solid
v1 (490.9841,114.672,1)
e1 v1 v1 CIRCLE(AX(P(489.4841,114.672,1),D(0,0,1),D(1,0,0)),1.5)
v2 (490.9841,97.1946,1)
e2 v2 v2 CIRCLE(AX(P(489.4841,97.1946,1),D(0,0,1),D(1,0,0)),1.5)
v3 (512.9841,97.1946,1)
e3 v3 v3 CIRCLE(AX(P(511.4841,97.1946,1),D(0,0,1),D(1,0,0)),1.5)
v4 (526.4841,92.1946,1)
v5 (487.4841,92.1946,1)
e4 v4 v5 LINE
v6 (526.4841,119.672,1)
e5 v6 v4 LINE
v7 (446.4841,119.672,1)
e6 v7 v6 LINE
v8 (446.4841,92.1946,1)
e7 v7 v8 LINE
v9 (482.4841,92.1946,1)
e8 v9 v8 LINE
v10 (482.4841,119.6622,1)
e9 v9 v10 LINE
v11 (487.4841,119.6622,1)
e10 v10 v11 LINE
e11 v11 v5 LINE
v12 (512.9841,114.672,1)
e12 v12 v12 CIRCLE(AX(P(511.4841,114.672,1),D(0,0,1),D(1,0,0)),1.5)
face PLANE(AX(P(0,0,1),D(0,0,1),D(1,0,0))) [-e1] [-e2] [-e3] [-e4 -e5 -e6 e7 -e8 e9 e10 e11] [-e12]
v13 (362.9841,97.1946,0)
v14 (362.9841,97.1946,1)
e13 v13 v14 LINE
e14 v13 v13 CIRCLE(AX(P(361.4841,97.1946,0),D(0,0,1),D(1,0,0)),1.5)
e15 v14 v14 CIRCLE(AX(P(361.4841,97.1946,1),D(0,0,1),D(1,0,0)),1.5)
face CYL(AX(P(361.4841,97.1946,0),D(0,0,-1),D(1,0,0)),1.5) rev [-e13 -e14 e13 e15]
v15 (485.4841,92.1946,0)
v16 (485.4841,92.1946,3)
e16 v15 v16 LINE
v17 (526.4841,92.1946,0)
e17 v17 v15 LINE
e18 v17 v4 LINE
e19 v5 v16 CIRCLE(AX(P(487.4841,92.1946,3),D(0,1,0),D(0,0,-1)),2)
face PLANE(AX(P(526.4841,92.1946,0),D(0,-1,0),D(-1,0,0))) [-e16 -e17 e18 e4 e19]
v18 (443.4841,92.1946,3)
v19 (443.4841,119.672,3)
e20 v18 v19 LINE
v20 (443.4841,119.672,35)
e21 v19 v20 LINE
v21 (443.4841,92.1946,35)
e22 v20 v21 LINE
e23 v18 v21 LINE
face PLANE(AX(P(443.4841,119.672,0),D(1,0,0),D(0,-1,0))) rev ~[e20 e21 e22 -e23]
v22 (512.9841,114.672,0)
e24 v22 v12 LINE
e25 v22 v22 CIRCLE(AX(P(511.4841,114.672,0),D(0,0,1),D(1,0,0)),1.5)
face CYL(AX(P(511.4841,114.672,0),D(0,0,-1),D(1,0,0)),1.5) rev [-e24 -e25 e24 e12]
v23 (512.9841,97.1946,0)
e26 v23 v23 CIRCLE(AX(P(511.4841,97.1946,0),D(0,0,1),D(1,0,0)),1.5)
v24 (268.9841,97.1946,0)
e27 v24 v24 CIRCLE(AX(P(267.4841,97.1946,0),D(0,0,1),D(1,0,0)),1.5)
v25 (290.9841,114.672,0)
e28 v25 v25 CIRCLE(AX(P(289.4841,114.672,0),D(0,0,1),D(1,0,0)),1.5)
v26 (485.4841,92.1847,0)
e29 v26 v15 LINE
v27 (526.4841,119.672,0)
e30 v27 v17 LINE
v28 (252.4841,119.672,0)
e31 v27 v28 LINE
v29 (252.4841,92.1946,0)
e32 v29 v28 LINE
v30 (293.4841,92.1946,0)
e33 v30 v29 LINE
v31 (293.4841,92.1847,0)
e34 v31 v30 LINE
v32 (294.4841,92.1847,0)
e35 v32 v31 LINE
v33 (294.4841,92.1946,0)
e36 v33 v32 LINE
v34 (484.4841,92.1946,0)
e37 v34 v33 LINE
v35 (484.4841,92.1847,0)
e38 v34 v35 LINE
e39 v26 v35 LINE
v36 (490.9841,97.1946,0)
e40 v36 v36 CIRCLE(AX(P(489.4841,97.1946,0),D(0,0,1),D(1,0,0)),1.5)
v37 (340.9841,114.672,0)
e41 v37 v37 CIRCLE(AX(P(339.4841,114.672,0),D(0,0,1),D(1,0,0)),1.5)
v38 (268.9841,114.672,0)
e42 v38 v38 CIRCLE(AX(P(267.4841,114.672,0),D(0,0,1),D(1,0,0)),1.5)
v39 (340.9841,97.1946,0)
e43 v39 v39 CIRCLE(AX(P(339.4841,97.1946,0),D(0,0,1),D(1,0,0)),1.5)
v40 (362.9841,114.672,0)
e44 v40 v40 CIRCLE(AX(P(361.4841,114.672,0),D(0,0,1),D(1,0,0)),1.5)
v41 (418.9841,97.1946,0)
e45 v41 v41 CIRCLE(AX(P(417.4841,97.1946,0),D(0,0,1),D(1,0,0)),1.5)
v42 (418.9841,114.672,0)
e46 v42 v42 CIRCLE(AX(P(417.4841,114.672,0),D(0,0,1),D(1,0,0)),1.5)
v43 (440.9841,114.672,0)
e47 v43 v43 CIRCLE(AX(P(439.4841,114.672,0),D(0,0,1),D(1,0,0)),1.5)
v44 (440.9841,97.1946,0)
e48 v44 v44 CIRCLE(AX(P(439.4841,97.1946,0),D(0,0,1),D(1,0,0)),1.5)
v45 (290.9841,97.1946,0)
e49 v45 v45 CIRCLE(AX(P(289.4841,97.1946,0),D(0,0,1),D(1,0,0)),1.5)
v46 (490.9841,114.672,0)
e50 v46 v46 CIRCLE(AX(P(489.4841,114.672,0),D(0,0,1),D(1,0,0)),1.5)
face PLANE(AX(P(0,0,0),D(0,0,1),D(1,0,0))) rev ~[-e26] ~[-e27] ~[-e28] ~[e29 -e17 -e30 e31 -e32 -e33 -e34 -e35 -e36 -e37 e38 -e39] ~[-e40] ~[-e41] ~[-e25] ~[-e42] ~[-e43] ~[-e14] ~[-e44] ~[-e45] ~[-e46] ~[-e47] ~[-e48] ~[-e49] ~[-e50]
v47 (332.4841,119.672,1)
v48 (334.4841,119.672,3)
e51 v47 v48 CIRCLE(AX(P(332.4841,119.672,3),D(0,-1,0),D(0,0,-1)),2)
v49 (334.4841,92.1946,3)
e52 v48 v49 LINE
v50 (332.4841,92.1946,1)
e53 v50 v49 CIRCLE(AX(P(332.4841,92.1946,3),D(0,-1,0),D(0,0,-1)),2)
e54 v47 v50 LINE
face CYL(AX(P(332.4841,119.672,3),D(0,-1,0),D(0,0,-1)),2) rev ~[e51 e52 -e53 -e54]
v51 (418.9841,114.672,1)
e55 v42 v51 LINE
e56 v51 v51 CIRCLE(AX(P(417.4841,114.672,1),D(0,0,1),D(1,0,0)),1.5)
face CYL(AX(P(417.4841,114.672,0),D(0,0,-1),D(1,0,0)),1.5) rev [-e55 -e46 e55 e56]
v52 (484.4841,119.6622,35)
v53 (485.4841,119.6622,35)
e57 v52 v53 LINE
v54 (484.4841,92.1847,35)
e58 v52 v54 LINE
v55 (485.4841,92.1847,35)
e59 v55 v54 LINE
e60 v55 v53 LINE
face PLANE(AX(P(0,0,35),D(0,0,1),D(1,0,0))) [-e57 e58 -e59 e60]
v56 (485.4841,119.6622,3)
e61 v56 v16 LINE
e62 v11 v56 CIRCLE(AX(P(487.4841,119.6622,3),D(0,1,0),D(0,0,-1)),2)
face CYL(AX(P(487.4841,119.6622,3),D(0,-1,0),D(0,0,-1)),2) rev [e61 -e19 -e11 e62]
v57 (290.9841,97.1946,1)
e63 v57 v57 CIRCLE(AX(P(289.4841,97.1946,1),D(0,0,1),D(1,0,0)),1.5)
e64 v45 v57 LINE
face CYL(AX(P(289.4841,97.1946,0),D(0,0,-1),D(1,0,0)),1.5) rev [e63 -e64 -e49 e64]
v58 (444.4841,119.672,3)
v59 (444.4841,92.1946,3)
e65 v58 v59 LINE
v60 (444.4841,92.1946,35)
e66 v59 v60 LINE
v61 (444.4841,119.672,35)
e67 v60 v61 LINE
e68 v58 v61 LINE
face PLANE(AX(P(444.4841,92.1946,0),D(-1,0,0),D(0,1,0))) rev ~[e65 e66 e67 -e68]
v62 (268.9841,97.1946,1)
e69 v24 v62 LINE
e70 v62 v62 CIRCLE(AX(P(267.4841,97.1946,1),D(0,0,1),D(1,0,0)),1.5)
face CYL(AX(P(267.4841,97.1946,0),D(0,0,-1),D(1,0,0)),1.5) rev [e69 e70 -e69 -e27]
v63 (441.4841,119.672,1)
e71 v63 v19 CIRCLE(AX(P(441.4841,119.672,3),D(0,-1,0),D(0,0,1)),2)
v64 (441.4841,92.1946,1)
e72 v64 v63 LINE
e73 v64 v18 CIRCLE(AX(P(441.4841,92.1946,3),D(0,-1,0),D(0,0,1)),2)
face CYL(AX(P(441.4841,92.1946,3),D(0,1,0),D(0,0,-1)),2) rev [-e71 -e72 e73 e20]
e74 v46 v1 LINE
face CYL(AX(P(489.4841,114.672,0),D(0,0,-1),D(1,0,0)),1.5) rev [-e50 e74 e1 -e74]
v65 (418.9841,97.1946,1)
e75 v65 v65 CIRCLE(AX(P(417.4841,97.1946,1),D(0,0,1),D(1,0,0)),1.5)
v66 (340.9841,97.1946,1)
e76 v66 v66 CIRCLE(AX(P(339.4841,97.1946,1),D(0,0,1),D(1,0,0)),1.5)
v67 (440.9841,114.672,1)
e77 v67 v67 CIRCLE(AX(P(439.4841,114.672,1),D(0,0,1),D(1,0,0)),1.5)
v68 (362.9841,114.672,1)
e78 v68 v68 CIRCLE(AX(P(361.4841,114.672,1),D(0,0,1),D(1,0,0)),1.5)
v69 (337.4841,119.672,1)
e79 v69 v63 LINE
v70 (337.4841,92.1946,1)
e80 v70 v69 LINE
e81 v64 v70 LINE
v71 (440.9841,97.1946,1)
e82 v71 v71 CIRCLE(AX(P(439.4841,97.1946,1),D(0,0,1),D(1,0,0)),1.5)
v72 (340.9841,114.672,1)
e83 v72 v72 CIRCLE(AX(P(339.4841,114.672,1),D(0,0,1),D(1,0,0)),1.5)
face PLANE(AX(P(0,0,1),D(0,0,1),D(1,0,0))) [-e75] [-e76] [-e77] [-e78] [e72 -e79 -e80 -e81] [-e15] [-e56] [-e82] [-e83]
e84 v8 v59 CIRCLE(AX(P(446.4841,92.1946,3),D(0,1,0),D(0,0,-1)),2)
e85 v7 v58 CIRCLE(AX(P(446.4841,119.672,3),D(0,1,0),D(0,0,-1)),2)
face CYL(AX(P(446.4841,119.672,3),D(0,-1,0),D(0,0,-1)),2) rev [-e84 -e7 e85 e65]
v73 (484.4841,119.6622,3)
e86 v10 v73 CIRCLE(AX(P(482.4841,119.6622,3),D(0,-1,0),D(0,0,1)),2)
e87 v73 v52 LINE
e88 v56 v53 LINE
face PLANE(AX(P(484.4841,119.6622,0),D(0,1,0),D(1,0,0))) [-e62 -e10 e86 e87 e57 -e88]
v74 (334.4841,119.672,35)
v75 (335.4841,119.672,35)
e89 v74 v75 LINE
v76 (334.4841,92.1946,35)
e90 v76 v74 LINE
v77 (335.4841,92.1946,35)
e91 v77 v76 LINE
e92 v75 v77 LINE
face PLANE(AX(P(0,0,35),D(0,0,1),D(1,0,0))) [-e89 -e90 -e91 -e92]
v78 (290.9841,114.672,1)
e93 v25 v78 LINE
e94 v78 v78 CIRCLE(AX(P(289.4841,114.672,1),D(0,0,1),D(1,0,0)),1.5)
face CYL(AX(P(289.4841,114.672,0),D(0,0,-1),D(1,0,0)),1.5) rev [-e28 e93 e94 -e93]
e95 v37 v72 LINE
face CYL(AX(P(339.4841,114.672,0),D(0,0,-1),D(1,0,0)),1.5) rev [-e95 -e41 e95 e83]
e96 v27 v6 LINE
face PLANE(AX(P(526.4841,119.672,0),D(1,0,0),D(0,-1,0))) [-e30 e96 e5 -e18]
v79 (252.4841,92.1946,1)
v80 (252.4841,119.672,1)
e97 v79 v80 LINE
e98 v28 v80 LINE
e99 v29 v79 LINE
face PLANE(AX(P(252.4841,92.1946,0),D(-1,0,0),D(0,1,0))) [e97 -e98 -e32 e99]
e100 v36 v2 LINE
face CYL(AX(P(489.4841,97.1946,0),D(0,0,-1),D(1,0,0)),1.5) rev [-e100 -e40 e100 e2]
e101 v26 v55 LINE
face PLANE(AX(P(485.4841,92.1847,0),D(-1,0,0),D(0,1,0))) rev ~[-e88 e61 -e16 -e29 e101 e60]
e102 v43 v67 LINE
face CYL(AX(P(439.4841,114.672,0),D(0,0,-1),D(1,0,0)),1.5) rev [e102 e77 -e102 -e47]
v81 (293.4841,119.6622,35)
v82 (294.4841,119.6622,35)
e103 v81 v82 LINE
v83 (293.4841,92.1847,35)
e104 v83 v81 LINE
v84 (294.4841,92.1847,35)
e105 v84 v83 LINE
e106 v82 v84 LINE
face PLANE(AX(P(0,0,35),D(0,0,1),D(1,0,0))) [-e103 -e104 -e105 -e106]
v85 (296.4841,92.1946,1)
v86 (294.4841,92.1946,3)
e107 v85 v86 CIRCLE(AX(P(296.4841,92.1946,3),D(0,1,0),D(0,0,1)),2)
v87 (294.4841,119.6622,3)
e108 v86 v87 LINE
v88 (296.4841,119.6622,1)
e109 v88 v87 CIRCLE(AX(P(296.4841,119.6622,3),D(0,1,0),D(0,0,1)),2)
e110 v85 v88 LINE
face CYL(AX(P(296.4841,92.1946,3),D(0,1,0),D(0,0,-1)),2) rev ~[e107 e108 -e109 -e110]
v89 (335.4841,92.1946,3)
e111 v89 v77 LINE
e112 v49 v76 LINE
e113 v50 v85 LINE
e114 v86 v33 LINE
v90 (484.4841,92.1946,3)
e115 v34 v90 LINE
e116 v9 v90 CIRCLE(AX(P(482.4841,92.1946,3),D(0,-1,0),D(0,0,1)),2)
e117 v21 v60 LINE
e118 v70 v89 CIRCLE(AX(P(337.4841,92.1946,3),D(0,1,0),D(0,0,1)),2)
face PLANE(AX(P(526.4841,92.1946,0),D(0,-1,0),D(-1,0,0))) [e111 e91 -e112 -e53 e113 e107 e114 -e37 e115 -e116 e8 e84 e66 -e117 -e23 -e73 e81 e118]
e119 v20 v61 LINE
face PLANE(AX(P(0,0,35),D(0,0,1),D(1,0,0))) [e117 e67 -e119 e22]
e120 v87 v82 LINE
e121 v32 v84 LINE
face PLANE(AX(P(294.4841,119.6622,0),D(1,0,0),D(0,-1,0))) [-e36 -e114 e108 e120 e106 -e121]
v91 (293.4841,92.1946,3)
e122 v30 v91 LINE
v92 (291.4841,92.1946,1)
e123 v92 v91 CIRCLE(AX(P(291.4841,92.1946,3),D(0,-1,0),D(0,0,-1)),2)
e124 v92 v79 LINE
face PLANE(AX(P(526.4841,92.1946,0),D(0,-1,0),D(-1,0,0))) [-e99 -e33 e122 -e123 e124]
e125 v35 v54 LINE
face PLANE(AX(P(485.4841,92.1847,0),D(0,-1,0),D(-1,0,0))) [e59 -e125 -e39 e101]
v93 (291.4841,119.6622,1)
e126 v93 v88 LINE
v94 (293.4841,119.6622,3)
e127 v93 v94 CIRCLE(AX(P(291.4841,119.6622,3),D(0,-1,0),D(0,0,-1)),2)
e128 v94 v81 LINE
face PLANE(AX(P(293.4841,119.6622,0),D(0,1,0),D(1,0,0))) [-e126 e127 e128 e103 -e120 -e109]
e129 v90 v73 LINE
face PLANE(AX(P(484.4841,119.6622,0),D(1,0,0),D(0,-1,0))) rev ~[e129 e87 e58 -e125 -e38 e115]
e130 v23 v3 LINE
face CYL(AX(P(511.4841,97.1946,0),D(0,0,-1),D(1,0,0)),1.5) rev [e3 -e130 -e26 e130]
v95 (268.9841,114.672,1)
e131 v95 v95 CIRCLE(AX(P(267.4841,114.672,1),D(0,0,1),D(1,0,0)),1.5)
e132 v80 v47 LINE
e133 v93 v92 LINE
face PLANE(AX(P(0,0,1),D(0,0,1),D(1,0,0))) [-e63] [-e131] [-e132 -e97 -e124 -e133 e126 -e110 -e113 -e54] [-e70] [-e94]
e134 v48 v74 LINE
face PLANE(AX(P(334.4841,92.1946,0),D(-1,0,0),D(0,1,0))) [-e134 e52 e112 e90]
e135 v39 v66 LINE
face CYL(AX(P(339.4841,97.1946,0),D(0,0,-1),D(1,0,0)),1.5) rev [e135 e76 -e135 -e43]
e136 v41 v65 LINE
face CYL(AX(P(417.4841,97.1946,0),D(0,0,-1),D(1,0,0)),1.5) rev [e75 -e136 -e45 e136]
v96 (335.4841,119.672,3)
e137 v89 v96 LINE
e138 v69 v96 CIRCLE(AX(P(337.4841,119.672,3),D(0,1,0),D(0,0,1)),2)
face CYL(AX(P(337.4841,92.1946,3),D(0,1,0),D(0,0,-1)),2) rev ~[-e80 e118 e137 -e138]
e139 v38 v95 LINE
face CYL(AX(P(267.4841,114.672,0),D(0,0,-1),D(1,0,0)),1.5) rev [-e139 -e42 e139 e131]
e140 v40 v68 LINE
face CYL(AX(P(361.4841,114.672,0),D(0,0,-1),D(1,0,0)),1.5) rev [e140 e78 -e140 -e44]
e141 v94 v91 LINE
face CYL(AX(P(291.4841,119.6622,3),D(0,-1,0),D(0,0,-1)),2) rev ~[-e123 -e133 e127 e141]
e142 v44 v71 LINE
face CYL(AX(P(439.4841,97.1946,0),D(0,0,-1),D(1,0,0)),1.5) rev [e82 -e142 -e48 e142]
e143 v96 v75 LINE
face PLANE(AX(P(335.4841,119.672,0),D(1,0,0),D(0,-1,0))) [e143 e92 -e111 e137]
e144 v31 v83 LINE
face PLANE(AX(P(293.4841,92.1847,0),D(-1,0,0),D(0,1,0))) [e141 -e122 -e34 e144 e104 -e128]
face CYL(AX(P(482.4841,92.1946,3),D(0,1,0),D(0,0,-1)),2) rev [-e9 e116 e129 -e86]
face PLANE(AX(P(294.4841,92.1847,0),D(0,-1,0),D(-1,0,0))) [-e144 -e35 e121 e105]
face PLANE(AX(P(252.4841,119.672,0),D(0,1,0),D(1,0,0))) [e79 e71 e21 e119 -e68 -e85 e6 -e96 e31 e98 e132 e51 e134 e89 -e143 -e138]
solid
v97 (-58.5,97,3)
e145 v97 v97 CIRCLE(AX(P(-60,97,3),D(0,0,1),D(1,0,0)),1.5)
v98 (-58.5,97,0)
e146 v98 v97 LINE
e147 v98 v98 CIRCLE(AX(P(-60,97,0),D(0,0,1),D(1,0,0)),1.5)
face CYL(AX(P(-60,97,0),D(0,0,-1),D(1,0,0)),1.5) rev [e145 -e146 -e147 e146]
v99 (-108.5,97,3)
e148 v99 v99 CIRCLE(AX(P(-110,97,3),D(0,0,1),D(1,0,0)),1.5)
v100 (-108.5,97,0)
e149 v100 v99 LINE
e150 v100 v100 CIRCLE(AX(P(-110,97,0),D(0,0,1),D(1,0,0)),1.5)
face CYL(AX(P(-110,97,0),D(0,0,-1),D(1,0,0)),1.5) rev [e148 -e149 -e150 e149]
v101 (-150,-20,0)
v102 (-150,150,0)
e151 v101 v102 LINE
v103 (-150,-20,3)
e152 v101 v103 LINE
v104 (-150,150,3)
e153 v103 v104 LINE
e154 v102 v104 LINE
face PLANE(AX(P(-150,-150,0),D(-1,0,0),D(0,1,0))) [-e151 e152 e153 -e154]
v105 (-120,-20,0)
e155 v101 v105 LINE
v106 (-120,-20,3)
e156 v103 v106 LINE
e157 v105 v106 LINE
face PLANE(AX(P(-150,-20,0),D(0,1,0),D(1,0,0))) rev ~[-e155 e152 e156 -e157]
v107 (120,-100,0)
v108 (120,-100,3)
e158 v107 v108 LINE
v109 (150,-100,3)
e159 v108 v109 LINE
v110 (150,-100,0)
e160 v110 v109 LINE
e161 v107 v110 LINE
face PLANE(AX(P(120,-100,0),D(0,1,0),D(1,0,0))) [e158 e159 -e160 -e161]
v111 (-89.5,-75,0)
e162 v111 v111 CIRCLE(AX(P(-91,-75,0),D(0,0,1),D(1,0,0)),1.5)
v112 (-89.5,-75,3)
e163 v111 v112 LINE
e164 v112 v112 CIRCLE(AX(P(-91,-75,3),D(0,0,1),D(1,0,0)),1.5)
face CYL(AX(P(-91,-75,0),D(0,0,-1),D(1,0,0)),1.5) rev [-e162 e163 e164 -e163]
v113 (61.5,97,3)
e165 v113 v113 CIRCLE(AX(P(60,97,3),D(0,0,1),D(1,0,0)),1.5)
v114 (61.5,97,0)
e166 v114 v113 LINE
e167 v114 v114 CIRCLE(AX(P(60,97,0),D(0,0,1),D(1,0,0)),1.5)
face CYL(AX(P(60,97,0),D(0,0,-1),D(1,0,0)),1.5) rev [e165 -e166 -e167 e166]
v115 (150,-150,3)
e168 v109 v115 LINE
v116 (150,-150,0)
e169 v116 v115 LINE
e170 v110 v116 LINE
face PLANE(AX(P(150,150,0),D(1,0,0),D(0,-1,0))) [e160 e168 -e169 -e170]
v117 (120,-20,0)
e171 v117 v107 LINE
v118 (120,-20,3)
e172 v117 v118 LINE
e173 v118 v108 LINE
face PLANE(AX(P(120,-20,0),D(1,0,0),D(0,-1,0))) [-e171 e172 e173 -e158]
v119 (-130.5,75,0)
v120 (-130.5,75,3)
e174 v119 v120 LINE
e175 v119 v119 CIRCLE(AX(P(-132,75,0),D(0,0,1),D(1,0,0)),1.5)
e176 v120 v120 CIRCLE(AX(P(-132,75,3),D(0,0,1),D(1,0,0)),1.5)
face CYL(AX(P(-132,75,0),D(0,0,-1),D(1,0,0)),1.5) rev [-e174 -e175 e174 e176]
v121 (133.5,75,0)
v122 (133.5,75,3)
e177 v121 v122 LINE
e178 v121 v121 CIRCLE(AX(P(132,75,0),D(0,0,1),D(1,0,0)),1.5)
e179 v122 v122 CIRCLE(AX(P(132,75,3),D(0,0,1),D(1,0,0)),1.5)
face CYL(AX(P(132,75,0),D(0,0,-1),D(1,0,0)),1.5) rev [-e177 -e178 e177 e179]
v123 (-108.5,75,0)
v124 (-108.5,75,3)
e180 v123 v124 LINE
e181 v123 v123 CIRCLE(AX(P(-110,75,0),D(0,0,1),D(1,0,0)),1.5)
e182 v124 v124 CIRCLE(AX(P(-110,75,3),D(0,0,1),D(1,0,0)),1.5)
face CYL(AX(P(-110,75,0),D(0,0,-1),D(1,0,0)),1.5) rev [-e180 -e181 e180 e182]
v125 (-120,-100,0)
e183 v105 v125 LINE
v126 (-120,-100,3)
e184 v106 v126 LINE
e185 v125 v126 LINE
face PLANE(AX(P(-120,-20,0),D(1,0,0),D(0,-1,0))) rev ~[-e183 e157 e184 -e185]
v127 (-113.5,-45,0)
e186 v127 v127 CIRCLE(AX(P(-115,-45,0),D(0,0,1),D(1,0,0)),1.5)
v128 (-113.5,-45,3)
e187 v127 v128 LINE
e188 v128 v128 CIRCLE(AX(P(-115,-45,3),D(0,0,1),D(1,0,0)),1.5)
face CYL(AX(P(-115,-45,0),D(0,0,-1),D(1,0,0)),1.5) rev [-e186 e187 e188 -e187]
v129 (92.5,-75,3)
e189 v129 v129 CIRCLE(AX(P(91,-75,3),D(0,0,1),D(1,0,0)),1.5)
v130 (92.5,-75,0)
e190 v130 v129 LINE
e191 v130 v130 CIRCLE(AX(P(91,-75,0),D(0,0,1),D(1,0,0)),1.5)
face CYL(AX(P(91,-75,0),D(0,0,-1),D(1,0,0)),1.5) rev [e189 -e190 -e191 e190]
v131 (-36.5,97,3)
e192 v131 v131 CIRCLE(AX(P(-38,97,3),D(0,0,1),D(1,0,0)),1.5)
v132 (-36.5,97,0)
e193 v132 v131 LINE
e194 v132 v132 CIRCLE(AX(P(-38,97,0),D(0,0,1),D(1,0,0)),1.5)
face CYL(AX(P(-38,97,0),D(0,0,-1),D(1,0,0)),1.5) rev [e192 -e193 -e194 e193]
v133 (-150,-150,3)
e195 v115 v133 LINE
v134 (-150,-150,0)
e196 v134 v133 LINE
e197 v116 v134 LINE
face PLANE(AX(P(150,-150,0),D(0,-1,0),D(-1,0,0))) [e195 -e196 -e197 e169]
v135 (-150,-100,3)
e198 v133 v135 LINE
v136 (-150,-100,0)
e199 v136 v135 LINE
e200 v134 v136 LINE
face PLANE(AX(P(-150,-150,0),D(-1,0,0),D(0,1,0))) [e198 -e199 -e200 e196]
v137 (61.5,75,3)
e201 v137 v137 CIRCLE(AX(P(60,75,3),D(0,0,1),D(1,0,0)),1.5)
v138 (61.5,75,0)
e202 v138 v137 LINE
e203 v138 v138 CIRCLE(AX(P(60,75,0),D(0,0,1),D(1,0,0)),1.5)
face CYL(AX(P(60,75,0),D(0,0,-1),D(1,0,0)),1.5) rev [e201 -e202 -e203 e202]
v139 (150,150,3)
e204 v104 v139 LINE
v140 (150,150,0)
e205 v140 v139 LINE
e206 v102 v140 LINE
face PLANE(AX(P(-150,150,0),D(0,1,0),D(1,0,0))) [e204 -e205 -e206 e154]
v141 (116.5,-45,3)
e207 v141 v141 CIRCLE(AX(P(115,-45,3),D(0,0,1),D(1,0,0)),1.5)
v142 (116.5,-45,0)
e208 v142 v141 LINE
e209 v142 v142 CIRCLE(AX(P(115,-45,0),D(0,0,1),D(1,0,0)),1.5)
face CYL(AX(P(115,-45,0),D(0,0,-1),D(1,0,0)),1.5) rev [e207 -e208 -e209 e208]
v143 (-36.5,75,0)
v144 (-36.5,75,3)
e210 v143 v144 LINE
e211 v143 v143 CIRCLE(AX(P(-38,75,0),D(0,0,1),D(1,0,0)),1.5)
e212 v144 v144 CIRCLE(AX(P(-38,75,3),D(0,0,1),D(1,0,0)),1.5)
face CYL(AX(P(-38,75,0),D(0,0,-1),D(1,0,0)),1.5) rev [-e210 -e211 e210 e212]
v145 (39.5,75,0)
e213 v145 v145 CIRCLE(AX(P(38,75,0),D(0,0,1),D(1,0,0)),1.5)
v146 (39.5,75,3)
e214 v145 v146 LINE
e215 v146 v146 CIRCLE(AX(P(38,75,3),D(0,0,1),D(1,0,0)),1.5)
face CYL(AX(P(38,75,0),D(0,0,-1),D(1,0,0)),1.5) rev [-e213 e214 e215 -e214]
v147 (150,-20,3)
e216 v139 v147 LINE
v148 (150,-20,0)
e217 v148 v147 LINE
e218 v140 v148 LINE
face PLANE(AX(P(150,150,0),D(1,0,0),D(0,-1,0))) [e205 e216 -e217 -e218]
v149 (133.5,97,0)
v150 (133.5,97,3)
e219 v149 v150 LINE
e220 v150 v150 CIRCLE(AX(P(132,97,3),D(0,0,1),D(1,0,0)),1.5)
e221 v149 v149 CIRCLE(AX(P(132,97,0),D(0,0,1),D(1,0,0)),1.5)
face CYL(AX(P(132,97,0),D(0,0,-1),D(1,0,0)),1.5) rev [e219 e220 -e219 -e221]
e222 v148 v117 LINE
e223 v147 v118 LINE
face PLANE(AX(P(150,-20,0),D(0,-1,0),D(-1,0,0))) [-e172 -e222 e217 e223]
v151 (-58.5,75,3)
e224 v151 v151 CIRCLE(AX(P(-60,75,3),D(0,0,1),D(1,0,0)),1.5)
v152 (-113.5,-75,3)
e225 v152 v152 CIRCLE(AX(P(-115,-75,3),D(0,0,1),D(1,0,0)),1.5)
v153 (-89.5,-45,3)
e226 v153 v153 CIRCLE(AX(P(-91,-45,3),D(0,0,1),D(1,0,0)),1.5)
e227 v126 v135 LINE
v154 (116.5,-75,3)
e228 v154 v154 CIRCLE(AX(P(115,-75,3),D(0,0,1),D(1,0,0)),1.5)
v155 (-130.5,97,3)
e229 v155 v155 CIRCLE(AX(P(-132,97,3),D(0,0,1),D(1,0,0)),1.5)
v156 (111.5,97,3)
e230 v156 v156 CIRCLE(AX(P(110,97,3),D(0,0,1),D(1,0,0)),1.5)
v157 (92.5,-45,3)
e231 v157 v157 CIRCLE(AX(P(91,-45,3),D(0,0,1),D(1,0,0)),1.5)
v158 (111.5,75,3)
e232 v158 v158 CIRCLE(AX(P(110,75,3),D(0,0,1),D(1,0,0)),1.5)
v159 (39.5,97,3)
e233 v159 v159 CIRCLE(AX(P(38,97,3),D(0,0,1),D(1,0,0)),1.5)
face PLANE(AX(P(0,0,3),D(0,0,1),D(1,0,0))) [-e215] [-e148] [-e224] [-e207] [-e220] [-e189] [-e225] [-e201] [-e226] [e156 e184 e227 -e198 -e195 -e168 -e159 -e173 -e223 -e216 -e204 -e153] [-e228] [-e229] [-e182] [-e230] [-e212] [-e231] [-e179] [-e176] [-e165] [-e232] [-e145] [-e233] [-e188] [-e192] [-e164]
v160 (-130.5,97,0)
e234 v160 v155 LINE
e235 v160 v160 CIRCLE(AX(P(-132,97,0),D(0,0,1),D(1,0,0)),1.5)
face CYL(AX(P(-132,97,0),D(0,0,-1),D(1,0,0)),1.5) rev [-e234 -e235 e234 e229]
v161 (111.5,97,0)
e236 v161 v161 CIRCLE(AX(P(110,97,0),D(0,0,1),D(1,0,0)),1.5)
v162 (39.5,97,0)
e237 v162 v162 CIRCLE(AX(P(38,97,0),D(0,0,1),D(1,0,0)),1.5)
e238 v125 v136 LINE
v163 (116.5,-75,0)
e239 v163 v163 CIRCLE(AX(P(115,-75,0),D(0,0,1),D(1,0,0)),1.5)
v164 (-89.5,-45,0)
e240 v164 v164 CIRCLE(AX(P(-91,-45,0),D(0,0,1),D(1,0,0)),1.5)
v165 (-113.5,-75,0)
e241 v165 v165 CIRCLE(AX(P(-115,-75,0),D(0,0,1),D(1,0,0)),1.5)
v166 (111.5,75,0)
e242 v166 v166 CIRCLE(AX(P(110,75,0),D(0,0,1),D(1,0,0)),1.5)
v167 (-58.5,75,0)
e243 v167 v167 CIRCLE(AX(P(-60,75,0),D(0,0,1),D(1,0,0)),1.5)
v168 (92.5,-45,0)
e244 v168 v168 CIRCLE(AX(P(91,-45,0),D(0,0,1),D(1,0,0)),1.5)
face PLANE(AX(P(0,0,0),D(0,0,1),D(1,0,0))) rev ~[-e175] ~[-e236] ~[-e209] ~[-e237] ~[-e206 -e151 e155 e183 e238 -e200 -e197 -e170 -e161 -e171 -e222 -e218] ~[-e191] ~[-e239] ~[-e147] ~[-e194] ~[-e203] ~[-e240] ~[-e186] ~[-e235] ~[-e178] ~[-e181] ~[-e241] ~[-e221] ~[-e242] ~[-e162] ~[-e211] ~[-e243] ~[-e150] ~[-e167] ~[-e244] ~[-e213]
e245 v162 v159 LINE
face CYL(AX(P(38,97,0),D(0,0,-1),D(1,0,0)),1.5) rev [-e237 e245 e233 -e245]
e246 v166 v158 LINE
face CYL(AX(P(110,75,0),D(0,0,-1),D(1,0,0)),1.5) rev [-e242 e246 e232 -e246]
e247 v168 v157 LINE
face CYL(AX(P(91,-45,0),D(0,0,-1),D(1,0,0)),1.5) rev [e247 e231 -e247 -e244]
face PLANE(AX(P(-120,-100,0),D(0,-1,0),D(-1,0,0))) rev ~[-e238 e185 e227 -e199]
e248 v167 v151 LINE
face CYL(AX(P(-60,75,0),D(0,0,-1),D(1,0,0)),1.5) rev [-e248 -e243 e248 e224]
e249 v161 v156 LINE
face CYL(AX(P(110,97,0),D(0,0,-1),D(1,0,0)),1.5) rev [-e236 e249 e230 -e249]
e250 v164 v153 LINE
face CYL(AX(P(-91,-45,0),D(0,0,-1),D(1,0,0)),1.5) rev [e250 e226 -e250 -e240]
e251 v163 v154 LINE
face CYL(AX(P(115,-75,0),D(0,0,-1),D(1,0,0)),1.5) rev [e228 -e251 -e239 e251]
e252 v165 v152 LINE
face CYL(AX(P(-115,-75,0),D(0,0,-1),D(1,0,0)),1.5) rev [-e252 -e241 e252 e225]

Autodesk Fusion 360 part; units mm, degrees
sketch "Base Sheet" plane through (0, 0, 0) normal (0, 0, 1) x (1, 0, 0)
  line L0 (150, -150) -> (-150, -150)
  line L1 (-150, -150) -> (-150, 150)
  line L2 (-150, 150) -> (150, 150)
  line L3 (150, 150) -> (150, -150)
  line L4 (150, -150) -> (-150, 150) construction
  line L5 (-150, -150) -> (150, 150) construction
  dimension "d1" = 300
  dimension "d2" = 300
sketch "Rear Wheels Motors" plane through (0, 0, 0) normal (0, 0, 1) x (1, 0, 0)
  line L0 (-150, -20) -> (-120, -20)
  line L1 (-120, -20) -> (-120, -100)
  line L2 (-120, -100) -> (-150, -100)
  line L3 (-150, -100) -> (-150, -20)
  line L4 (150, -150) -> (-150, -150)
  line L5 (-150, -150) -> (-150, 150)
  line L6 (-115, -45) -> (-91, -45) construction
  line L7 (-91, -45) -> (-91, -75) construction
  line L8 (-91, -75) -> (-115, -75) construction
  line L9 (-115, -75) -> (-115, -45) construction
  circle A0 centre (-115, -45) radius 1.5
  circle A1 centre (-91, -45) radius 1.5
  circle A2 centre (-91, -75) radius 1.5
  circle A3 centre (-115, -75) radius 1.5
  line L10 (0, 150) -> (0, -150) construction
  circle A4 centre (115, -45) radius 1.5
  circle A5 centre (91, -45) radius 1.5
  circle A6 centre (91, -75) radius 1.5
  circle A7 centre (115, -75) radius 1.5
  line L11 (120, -20) -> (120, -100)
  line L12 (150, -20) -> (120, -20)
  line L13 (150, -100) -> (150, -20)
  line L14 (120, -100) -> (150, -100)
  dimension "d3" = 30
  dimension "d4" = 80
  dimension "d5" = 50
  dimension "d6" = 24
  dimension "d7" = 30
  dimension "d8" = 75
  dimension "d9" = 5
  dimension "d10" = 3
  dimension "d11" = 3
  dimension "d12" = 3
  dimension "d13" = 3
sketch "Front Omni Wheels" plane through (0, 0, 0) normal (0, 0, 1) x (1, 0, 0)
  line L0 (-100, 110) -> (-70, 110) construction
  line L1 (-70, 110) -> (-70, 62) construction
  line L2 (-70, 62) -> (-100, 62) construction
  line L3 (-100, 62) -> (-100, 110) construction
  line L4 (-150, -150) -> (-150, 150) construction
  line L5 (-150, 150) -> (150, 150) construction
  line L6 (-85, 110) -> (-85, -150) construction
  line L7 (-60, 97) -> (-38, 97) construction
  line L8 (-38, 97) -> (-38, 75) construction
  line L9 (-38, 75) -> (-60, 75) construction
  line L10 (-60, 75) -> (-60, 97) construction
  circle A0 centre (-60, 97) radius 1.5
  circle A1 centre (-38, 97) radius 1.5
  circle A2 centre (-60, 75) radius 1.5
  circle A3 centre (-38, 75) radius 1.5
  circle A4 centre (-110, 97) radius 1.5
  circle A5 centre (-132, 97) radius 1.5
  circle A6 centre (-110, 75) radius 1.5
  circle A7 centre (-132, 75) radius 1.5
  line L11 (0, 150) -> (0, -150)
  circle A8 centre (38, 97) radius 1.5
  circle A9 centre (38, 75) radius 1.5
  circle A10 centre (60, 75) radius 1.5
  circle A11 centre (60, 97) radius 1.5
  circle A12 centre (110, 97) radius 1.5
  circle A13 centre (110, 75) radius 1.5
  circle A14 centre (132, 75) radius 1.5
  circle A15 centre (132, 97) radius 1.5
  line L12 (-132, 97) -> (132, 97) construction
  line L13 (132, 97) -> (132, 75) construction
  line L14 (252.4841, 119.672) -> (526.4841, 119.672)
  line L15 (526.4841, 119.672) -> (526.4841, 92.1946)
  line L16 (526.4841, 92.1946) -> (252.4841, 92.1946)
  line L17 (252.4841, 92.1946) -> (252.4841, 119.672)
  line L18 (267.4841, 114.672) -> (289.4841, 114.672) construction
  line L19 (289.4841, 114.672) -> (289.4841, 97.1946) construction
  line L20 (289.4841, 97.1946) -> (267.4841, 97.1946) construction
  line L21 (267.4841, 97.1946) -> (267.4841, 114.672) construction
  line L22 (361.4841, 114.672) -> (361.4841, 97.1946) construction
  line L23 (339.4841, 114.672) -> (361.4841, 114.672) construction
  line L24 (339.4841, 97.1946) -> (339.4841, 114.672) construction
  line L25 (361.4841, 97.1946) -> (339.4841, 97.1946) construction
  circle A16 centre (267.4841, 114.672) radius 1.5
  circle A17 centre (289.4841, 114.672) radius 1.5
  circle A18 centre (267.4841, 97.1946) radius 1.5
  circle A19 centre (289.4841, 97.1946) radius 1.5
  circle A20 centre (339.4841, 114.672) radius 1.5
  circle A21 centre (339.4841, 97.1946) radius 1.5
  circle A22 centre (361.4841, 114.672) radius 1.5
  circle A23 centre (361.4841, 97.1946) radius 1.5
  line L26 (389.4841, 119.672) -> (389.4841, 92.1946) construction
  circle A24 centre (511.4841, 114.672) radius 1.5
  circle A25 centre (489.4841, 114.672) radius 1.5
  circle A26 centre (511.4841, 97.1946) radius 1.5
  circle A27 centre (489.4841, 97.1946) radius 1.5
  circle A28 centre (439.4841, 114.672) radius 1.5
  circle A29 centre (417.4841, 114.672) radius 1.5
  circle A30 centre (439.4841, 97.1946) radius 1.5
  circle A31 centre (417.4841, 97.1946) radius 1.5
  dimension "d14" = 30
  dimension "d15" = 48
  dimension "d16" = 50
  dimension "d17" = 40
  dimension "d18" = 22
  dimension "d19" = 22
  dimension "d20" = 53
  dimension "d21" = 10
  dimension "d22" = 3
  dimension "d23" = 3
  dimension "d24" = 3
  dimension "d25" = 3
  dimension "d31" = 264
  dimension "d32" = 22
  dimension "d33" = 274
  dimension "d34" = 27.4774
  dimension "d41" = 22
  dimension "d42" = 17.4774
  dimension "d43" = 22
  dimension "d44" = 17.4774
  dimension "d45" = 50
  dimension "d46" = 3
  dimension "d47" = 3
  dimension "d48" = 3
  dimension "d49" = 3
  dimension "d50" = 3
  dimension "d51" = 3
  dimension "d52" = 3
  dimension "d53" = 3
  dimension "d54" = 15
  dimension "d55" = 5
  dimension "d56" = 5
extrude "Extrude1" add sketch "Front Omni Wheels" sketch "Base Sheet" along normal blind 3 contours A0 | A1 | A2 | A3 | A4 | A5 | A6 | A7 | A8 | A9 | A10 | A11 | A12 | A13 | A14 | A15 of sketch 2 makes body 1
extrude "Extrude2" cut sketch "Rear Wheels Motors" sketch "Front Omni Wheels" along normal blind 3 of sketch 2 contours A0 | A1 | A2 | A3 | A4 | A5 | A6 | A7 | A8 | A9 | A10 | A11 | A12 | A13 | A14 | A15 bodies 1
extrude "Extrude4" add sketch "Front Omni Wheels" along normal blind 1 separate body contours L14 L15 L16 L17 makes body 2
sketch "Sketch6" plane through (0, 0, 0) normal (0, 0, 1) x (1, 0, 0)
  line L0 (293.4841, 119.6622) -> (294.4841, 119.6622)
  line L1 (294.4841, 119.6622) -> (294.4841, 92.1847)
  line L2 (294.4841, 92.1847) -> (293.4841, 92.1847)
  line L3 (293.4841, 92.1847) -> (293.4841, 119.6622)
  line L4 (252.4841, 92.1946) -> (252.4841, 119.672)
  line L5 (334.4841, 119.672) -> (335.4841, 119.672)
  line L6 (335.4841, 119.672) -> (335.4841, 92.1946)
  line L7 (335.4841, 92.1946) -> (334.4841, 92.1946)
  line L8 (334.4841, 92.1946) -> (334.4841, 119.672)
  line L9 (252.4841, 119.672) -> (526.4841, 119.672)
  line L10 (339.4841, 97.1946) -> (339.4841, 114.672)
  line L11 (389.4841, 119.672) -> (389.4841, 92.1946)
  line L12 (485.4841, 92.1847) -> (485.4841, 119.6622)
  line L13 (484.4841, 119.6622) -> (484.4841, 92.1847)
  line L14 (444.4841, 92.1946) -> (444.4841, 119.672)
  line L15 (443.4841, 119.672) -> (443.4841, 92.1946)
  line L16 (443.4841, 92.1946) -> (444.4841, 92.1946)
  line L17 (443.4841, 119.672) -> (444.4841, 119.672)
  line L18 (484.4841, 119.6622) -> (485.4841, 119.6622)
  line L19 (485.4841, 92.1847) -> (484.4841, 92.1847)
  point P0 (289.4841, 114.672)
  dimension "d61" = 1
  dimension "d62" = 4
  dimension "d63" = 4
extrude "Extrude5" add sketch "Sketch6" along normal blind 35 bodies 2
fillet "Fillet1" radius 2 8 edges at (335.4841, 105.9333, 1) (294.4841, 105.9284, 1) (485.4841, 105.9284, 1) (293.4841, 105.9284, 1) (334.4841, 105.9333, 1) (443.4841, 105.9333, 1) (484.4841, 105.9284, 1) (444.4841, 105.9333, 1) on bodies 2
equation "d8 = d5 + d4 / 2 - d7 / 2"
equation "d20 = d17 + d15 / 2 - d19 / 2"
equation "d33 = d31 + 10 mm"
equation "d34 = d42 + 10 mm"
equation "d36 = d32"
equation "d41 = d18"
equation "d43 = d18"
equation "d45 = d14 + d21 * 2"
equation "d56 = d55"
equation "d63 = d62"
